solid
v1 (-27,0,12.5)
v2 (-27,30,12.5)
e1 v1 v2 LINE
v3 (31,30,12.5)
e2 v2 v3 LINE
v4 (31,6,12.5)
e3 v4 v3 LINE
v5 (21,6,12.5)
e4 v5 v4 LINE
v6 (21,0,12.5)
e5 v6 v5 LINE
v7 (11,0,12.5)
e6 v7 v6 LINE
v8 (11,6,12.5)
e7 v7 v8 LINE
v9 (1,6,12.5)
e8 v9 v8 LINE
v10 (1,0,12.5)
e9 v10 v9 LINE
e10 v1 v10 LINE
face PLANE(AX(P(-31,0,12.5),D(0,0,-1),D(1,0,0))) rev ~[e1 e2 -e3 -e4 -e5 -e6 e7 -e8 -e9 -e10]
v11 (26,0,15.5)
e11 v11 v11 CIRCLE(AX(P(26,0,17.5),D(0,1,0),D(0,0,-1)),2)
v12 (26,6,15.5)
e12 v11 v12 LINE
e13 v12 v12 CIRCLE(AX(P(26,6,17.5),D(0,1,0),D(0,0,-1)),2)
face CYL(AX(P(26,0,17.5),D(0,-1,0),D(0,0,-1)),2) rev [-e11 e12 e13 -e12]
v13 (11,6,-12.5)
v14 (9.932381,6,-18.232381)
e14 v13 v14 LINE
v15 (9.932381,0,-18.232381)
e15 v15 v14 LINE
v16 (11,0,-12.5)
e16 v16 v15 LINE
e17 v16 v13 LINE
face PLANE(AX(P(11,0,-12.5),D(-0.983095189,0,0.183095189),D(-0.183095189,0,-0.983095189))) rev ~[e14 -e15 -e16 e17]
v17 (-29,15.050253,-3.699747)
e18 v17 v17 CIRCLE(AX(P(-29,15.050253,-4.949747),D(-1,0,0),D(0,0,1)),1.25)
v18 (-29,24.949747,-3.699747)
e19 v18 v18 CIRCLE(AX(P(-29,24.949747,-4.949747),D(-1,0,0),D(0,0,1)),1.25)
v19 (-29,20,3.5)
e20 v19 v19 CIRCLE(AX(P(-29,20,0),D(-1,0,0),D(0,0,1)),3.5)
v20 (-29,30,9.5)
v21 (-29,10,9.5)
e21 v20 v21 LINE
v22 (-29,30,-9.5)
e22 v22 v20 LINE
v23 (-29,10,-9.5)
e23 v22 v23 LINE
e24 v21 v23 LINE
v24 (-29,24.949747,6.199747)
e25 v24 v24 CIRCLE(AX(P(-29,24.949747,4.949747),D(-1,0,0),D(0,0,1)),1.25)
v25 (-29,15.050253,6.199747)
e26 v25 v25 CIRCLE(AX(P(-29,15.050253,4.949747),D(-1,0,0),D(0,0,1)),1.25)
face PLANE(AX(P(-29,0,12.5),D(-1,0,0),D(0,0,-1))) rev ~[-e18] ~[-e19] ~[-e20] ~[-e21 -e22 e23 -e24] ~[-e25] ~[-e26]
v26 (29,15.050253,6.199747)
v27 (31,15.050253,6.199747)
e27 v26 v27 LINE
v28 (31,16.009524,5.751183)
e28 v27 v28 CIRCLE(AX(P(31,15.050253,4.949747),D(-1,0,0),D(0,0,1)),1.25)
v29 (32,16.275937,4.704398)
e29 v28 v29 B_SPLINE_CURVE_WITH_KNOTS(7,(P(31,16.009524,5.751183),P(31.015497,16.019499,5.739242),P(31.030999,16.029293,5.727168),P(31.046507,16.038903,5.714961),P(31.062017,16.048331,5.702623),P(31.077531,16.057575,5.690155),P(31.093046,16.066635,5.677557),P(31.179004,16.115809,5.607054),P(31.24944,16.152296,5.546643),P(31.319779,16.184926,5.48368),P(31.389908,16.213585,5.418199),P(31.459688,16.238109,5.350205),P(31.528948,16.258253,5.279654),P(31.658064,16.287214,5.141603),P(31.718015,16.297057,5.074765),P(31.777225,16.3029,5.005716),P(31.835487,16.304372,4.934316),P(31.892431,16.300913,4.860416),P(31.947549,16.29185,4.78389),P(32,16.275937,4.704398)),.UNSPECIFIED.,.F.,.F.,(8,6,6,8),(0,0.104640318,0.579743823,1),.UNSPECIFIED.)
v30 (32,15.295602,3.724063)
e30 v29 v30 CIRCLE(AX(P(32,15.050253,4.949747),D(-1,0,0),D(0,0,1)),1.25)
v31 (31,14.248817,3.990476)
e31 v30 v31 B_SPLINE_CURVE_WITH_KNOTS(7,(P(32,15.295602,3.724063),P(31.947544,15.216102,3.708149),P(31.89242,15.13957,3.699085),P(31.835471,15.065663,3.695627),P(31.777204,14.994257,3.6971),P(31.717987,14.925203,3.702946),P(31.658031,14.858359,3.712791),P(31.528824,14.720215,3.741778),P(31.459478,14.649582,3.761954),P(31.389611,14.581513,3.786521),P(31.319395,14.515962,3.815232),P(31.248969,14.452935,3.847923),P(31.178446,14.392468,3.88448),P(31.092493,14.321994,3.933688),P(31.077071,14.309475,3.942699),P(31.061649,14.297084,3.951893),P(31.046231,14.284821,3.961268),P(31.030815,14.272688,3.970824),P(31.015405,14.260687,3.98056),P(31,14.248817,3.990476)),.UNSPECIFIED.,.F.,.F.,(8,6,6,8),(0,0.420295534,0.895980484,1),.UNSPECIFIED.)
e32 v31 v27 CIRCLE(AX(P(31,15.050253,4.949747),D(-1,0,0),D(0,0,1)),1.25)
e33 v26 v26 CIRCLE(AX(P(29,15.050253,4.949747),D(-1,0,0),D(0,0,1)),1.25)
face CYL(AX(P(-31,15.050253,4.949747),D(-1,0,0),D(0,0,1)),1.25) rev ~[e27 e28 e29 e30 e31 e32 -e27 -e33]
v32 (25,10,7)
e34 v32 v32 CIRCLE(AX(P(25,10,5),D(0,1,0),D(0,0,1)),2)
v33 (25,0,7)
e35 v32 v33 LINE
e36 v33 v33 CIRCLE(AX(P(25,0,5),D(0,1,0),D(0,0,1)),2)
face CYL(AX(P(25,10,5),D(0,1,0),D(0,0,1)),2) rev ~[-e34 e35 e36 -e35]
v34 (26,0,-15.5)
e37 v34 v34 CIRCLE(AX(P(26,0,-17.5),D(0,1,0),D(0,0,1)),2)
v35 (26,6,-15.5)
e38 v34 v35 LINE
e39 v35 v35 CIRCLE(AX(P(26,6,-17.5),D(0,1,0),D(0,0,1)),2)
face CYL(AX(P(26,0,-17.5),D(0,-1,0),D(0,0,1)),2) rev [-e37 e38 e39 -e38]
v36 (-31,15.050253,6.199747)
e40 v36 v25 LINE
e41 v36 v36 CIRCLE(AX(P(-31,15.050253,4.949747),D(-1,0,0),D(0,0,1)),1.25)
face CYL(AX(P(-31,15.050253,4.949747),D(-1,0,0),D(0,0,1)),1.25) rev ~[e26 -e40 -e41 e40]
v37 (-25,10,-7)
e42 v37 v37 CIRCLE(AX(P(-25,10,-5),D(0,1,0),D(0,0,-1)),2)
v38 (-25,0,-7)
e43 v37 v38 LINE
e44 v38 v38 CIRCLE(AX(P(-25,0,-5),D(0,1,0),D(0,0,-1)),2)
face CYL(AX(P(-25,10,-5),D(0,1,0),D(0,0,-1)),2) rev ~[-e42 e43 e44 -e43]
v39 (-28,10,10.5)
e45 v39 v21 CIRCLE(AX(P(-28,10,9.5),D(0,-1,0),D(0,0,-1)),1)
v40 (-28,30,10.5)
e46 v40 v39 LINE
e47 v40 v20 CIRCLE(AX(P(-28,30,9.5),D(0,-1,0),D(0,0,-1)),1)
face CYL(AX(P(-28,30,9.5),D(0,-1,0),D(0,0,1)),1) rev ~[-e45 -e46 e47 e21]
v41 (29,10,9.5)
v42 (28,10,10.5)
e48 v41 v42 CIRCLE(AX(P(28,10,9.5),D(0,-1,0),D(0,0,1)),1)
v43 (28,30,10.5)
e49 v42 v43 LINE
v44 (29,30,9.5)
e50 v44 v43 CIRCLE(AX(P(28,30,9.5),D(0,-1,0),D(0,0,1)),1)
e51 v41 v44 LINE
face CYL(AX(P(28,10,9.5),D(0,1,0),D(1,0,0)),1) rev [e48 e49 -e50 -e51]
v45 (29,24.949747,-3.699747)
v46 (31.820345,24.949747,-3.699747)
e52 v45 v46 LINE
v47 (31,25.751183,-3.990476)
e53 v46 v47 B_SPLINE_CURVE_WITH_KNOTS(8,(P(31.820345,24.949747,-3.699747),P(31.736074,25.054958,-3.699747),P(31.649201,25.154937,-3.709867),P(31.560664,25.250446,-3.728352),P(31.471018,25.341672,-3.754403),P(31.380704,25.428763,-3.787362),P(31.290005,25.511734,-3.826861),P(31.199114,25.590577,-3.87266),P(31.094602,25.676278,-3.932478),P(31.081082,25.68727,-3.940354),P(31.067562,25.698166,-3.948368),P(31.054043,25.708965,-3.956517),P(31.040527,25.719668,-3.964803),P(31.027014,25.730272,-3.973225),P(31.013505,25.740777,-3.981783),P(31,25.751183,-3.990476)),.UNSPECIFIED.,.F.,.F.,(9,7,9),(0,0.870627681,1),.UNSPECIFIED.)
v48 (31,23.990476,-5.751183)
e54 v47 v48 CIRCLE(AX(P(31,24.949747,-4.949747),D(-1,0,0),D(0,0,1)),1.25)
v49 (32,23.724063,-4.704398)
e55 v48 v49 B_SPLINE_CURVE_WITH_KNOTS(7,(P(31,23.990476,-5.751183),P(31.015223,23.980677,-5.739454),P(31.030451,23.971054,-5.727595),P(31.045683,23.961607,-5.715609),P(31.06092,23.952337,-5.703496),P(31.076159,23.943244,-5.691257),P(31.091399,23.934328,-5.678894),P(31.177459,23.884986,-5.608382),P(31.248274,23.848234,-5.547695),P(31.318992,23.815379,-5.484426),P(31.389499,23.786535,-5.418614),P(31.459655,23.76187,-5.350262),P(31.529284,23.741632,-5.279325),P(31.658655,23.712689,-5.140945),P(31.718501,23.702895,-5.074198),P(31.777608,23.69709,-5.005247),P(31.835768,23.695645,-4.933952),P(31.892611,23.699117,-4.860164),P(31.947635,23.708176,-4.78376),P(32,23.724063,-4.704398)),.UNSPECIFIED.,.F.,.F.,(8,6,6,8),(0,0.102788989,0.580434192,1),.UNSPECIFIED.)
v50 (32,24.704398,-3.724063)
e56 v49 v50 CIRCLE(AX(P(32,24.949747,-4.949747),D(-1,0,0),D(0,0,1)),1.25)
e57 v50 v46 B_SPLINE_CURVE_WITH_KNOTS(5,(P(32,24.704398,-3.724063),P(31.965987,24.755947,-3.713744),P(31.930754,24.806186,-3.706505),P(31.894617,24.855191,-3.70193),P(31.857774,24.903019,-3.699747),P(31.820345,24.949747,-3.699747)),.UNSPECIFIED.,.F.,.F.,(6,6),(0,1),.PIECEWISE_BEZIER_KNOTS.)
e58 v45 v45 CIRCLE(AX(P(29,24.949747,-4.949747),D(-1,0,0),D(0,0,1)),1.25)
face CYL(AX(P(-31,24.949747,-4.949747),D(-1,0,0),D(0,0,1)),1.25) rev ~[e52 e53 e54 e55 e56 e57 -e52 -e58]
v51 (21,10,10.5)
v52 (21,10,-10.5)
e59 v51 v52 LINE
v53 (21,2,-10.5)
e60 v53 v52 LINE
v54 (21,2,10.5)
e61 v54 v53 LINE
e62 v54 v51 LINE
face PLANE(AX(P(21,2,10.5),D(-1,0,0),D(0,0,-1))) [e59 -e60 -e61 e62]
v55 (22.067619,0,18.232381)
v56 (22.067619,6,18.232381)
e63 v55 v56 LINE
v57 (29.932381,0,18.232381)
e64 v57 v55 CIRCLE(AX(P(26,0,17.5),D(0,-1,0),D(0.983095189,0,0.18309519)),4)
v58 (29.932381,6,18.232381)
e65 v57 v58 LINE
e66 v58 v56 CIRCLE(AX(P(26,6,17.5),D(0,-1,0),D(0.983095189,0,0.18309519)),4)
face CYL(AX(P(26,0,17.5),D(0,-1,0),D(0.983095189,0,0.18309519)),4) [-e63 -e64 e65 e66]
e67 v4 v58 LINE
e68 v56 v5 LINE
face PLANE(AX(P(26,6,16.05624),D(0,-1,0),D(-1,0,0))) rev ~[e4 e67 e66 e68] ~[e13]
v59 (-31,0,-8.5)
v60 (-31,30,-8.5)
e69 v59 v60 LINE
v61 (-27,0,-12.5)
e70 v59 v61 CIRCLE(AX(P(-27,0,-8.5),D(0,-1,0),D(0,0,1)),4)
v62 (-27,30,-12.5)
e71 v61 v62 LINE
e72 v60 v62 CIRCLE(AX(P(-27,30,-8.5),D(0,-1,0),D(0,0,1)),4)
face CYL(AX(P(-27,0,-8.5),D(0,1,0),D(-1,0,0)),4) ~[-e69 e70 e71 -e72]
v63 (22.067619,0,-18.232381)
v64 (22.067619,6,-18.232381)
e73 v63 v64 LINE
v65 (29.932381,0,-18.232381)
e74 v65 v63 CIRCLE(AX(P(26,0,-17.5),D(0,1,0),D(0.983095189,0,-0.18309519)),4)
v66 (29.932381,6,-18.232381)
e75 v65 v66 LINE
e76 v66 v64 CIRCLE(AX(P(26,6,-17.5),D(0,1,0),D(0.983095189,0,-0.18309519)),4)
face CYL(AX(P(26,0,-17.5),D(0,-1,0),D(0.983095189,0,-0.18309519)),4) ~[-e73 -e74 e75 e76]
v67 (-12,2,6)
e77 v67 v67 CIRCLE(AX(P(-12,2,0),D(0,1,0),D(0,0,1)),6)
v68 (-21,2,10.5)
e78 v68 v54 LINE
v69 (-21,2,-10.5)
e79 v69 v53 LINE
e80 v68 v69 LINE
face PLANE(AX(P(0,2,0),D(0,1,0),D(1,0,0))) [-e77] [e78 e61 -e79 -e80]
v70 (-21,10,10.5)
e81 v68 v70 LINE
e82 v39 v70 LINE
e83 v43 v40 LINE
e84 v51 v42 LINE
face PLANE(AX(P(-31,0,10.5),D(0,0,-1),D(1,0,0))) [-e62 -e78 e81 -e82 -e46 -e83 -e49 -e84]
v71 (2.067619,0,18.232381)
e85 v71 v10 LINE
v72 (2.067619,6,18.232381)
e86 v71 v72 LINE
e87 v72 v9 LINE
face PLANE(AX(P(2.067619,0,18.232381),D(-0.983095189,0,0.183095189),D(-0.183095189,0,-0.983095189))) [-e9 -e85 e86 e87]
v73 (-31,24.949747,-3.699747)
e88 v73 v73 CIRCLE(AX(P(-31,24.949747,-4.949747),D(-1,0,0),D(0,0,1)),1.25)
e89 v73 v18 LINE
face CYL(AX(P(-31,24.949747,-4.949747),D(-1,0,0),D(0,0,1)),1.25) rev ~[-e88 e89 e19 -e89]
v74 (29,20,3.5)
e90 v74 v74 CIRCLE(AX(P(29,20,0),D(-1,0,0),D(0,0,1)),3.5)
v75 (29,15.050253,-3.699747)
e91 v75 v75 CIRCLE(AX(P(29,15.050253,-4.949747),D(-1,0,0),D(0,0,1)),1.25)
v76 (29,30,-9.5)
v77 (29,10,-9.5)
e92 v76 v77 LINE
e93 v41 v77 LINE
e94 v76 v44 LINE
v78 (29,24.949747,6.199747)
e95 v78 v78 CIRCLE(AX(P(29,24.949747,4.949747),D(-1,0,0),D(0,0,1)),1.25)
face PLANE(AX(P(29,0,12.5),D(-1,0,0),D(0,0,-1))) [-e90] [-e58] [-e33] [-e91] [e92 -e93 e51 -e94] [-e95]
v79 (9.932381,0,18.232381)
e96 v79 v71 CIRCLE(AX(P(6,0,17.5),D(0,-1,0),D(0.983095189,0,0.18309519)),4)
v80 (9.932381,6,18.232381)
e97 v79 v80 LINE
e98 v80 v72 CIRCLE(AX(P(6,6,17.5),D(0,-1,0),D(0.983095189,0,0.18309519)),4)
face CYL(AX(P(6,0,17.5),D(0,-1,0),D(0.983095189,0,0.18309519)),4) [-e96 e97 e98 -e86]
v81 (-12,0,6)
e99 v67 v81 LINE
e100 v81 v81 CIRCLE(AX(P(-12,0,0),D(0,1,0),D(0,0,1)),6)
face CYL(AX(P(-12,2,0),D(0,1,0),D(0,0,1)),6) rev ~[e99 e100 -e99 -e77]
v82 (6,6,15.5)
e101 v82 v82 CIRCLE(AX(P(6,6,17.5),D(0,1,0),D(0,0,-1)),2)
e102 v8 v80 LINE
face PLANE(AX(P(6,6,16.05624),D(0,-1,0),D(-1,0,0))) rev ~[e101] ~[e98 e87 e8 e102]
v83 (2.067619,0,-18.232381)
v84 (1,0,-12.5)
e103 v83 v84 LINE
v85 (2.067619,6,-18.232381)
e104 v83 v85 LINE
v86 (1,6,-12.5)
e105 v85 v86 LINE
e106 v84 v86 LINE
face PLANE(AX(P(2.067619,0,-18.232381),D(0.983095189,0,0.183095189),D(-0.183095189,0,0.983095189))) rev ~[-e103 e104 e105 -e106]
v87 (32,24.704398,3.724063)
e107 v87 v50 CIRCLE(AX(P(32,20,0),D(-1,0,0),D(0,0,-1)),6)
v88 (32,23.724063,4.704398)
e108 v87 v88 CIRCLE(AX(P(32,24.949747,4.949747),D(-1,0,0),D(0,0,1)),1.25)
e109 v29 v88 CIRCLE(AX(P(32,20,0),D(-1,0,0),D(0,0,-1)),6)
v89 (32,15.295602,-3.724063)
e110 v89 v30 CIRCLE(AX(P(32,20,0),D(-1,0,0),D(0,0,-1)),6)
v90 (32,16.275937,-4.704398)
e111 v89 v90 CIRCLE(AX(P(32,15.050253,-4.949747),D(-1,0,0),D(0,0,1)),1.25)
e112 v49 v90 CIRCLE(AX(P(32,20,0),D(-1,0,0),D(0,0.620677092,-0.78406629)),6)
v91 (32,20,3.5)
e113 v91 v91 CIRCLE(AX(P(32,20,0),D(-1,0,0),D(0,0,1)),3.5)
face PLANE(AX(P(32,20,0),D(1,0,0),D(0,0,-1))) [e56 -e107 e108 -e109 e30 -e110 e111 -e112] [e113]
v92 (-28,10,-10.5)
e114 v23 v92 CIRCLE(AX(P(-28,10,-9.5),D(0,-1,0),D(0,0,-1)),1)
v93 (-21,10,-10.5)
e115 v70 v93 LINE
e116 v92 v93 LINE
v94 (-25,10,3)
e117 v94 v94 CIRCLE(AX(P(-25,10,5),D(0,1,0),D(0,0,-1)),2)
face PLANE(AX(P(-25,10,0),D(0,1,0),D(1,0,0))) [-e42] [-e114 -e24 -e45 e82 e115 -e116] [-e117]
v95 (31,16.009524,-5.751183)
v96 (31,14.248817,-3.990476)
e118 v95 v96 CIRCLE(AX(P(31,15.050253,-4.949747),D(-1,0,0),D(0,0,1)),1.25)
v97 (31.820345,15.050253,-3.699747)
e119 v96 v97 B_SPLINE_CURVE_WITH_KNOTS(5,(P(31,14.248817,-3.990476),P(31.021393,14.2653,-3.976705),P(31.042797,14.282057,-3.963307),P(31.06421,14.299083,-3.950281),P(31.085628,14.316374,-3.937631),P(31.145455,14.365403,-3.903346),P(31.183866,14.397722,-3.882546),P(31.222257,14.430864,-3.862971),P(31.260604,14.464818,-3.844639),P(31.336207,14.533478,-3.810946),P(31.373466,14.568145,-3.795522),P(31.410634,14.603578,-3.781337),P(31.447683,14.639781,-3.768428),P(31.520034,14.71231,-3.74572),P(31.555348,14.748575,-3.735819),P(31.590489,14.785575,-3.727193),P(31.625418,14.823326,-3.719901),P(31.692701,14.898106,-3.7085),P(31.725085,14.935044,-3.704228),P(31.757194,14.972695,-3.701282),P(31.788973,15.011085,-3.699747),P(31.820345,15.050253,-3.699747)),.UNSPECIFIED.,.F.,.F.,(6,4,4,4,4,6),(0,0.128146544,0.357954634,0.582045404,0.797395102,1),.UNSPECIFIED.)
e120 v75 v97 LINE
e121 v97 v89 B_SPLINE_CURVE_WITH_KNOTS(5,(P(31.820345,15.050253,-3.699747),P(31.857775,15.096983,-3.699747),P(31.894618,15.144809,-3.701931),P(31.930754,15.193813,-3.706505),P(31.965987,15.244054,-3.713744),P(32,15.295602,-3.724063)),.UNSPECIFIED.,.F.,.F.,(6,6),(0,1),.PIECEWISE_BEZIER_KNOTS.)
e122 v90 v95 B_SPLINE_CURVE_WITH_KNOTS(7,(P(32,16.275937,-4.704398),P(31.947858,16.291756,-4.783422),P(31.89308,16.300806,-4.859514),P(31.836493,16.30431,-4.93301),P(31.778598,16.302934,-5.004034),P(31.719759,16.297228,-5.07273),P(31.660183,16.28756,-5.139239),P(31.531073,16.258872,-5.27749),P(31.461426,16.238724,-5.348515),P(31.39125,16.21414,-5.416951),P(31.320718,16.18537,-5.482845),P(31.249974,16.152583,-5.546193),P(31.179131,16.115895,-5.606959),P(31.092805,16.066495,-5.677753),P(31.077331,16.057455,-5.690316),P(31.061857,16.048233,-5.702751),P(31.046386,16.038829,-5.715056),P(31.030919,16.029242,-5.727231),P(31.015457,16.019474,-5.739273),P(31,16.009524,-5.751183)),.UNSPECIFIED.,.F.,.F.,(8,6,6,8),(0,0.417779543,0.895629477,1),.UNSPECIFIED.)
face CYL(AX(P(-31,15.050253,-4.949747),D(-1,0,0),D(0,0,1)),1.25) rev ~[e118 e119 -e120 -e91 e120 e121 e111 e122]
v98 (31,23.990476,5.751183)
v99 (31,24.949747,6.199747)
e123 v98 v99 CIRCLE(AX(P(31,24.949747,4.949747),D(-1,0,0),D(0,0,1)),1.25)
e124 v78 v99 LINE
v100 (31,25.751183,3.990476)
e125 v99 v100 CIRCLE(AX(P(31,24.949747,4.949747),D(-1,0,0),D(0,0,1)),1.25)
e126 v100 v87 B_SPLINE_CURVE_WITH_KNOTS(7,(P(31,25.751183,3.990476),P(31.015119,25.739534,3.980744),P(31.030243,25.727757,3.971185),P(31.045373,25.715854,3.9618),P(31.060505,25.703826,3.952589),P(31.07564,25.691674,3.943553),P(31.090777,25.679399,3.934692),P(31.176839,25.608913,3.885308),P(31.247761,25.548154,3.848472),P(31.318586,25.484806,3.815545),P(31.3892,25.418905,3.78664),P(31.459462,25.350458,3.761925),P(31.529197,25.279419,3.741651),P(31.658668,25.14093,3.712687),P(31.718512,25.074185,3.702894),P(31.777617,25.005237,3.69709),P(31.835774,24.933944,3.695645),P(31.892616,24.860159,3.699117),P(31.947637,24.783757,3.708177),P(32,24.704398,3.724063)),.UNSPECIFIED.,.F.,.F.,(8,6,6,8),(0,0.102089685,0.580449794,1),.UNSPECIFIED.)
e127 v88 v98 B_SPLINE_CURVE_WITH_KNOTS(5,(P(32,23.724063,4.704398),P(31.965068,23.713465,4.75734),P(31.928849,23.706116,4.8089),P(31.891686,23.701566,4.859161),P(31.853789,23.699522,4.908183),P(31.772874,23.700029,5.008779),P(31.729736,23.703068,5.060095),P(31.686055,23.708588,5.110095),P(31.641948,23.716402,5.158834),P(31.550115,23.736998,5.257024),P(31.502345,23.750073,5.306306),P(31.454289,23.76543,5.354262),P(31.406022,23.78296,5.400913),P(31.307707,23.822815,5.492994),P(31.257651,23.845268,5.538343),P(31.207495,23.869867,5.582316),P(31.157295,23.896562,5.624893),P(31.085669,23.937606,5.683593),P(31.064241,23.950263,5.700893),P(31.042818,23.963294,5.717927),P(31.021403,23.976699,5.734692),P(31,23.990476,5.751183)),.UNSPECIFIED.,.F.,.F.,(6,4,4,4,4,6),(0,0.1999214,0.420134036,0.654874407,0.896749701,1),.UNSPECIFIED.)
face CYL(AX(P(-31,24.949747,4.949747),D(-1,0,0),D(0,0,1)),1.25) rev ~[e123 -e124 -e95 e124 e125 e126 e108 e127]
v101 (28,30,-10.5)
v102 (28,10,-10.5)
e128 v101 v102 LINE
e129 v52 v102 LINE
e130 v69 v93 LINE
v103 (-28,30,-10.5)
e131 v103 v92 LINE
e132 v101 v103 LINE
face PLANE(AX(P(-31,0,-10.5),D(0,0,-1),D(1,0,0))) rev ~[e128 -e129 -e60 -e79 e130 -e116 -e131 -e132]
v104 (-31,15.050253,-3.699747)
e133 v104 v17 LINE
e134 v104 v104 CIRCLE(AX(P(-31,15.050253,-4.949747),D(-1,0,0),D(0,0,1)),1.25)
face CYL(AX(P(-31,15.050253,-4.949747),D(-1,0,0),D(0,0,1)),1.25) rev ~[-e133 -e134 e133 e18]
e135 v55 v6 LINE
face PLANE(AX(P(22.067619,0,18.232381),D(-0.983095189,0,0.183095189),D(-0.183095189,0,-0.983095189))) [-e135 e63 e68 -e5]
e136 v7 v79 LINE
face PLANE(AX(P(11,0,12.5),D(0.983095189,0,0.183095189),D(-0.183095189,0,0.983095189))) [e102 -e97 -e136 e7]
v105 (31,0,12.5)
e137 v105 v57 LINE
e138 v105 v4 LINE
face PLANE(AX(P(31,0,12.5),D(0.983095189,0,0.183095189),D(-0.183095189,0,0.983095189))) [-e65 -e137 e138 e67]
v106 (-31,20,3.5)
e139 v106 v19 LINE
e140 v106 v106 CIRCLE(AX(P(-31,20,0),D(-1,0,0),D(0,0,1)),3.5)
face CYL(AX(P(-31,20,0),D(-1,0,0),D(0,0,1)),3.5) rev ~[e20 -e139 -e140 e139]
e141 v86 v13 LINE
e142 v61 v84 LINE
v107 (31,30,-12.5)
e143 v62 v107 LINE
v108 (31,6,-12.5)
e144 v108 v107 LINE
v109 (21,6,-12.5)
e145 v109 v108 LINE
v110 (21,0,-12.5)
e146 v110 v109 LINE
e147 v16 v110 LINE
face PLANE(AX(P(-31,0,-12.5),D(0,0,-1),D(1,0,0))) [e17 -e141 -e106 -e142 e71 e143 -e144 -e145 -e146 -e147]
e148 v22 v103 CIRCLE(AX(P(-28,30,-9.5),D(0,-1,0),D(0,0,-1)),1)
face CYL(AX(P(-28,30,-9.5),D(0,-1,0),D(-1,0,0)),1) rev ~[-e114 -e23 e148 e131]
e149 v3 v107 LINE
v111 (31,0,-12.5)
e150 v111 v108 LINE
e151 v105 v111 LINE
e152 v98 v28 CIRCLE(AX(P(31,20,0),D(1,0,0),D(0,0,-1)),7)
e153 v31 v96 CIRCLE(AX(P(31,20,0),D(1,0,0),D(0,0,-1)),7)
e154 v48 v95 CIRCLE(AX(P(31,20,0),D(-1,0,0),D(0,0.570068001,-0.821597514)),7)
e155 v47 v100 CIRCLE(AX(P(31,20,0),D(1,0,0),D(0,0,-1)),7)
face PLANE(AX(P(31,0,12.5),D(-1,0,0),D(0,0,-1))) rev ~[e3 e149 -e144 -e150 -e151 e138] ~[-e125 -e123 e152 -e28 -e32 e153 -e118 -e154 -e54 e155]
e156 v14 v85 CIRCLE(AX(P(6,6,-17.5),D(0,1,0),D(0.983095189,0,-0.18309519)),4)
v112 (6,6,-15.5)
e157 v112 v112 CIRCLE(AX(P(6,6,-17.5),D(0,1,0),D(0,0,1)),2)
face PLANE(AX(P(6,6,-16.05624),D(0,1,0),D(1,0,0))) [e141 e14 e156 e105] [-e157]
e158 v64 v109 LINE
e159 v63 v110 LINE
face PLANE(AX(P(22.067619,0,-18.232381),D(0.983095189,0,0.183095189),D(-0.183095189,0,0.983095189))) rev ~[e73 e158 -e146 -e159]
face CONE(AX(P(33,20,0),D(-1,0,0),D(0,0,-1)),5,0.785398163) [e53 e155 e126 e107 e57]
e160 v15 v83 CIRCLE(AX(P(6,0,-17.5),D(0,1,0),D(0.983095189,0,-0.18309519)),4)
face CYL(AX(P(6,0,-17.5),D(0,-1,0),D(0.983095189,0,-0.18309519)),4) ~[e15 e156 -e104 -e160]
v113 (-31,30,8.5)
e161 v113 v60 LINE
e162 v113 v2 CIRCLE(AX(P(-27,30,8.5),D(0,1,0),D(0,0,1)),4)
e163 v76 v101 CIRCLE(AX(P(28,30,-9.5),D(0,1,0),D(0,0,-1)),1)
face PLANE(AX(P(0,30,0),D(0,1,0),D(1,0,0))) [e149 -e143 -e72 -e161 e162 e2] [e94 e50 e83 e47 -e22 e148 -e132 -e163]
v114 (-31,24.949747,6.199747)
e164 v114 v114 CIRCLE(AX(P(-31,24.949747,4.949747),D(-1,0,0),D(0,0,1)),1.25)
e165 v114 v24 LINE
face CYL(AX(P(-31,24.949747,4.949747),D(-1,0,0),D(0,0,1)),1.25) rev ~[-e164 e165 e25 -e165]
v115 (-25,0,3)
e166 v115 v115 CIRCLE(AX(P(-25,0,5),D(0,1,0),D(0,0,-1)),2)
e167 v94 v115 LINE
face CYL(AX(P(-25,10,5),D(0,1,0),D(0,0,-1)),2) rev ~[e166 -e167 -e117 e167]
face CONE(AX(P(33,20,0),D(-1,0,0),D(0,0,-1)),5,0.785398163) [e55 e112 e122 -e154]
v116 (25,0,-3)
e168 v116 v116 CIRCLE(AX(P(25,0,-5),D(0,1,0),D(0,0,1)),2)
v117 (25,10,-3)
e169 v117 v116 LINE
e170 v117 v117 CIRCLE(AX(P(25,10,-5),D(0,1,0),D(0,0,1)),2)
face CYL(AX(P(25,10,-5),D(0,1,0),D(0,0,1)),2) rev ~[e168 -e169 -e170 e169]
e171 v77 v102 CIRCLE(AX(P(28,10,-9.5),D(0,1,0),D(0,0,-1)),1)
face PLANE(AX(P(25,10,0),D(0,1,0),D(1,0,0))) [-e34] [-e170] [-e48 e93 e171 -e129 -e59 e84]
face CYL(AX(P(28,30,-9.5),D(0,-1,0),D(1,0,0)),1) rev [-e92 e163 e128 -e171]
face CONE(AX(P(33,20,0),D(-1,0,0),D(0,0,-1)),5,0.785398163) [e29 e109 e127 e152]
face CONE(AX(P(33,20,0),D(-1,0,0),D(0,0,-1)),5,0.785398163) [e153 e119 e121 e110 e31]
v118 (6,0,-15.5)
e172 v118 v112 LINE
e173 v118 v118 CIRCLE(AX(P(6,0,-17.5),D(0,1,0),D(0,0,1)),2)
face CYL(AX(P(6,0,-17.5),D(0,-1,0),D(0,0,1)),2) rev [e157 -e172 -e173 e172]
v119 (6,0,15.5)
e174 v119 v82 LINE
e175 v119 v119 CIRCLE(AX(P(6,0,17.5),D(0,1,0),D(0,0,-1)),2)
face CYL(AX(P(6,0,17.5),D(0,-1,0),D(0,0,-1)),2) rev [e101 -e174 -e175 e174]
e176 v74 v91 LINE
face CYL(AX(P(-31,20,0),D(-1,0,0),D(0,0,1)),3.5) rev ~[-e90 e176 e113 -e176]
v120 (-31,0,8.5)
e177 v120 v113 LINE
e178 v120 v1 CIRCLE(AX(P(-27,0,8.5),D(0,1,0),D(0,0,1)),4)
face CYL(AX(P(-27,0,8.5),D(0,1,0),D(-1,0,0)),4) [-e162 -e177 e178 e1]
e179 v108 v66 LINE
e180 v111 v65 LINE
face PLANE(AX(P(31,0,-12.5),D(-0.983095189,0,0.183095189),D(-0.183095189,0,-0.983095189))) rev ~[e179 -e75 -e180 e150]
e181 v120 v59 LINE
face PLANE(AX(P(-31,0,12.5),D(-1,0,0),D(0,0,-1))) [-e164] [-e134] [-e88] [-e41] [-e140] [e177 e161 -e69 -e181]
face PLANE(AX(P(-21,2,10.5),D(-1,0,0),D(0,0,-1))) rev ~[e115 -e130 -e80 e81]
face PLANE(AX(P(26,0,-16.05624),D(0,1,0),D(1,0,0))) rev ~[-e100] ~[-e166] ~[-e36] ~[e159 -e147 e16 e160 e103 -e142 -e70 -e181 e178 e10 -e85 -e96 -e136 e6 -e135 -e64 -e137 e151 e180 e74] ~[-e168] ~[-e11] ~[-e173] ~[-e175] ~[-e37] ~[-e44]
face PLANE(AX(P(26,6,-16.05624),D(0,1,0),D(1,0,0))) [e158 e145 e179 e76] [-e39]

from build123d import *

# Parameters (mm, degrees)
SKETCH_1_W          = 62
SKETCH_1_H          = 25
EXTRUDE_1_DEPTH     = 30
SHELL_1_T           = -2
SKETCH_2_W          = 8
SKETCH_2_H          = 21
EXTRUDE_2_DEPTH     = 8
SKETCH_3_R          = 2
CUT_EXTRUDE_1_DEPTH = 39.951893407
SKETCH_4_R          = 6
CUT_EXTRUDE_2_DEPTH = 44.603325561
SKETCH_5_R          = 2
EXTRUDE_3_DEPTH     = 6
SKETCH_6_R          = 7
EXTRUDE_4_DEPTH     = 1
SKETCH_10_R         = 3.5
SKETCH_10_R_2       = 1.25
CUT_EXTRUDE_3_DEPTH = 74.015409333
FILLET_1_R          = 4
FILLET_2_R          = 1


with BuildPart() as part:
    # 草图1 → 凸台-拉伸1 (new body)
    with BuildSketch(Plane(origin=(0, 0, 0), x_dir=(1, 0, 0), z_dir=(0, 1, 0))):
        Rectangle(SKETCH_1_W, SKETCH_1_H)
    extrude(amount=EXTRUDE_1_DEPTH)

    # 抽壳1
    shell_1_openings = [part.faces().sort_by_distance(p)[0] for p in [
        (0, 30, 0),
    ]]
    offset(amount=SHELL_1_T, openings=shell_1_openings, kind=Kind.INTERSECTION)

    # 草图2 → 凸台-拉伸2 (add)
    with BuildSketch(Plane(origin=(0, 2, 0), x_dir=(1, 0, 0), z_dir=(0, 1, 0))):
        with Locations((-25, 0)):
            Rectangle(SKETCH_2_W, SKETCH_2_H)
        with Locations((25, 0)):
            Rectangle(SKETCH_2_W, SKETCH_2_H)
    extrude(amount=EXTRUDE_2_DEPTH)

    # 草图3 → 切除-拉伸1 (cut, through all)
    with BuildSketch(Plane(origin=(0, 10, 0), x_dir=(1, 0, 0), z_dir=(0, 1, 0))):
        with Locations(Location((25, -5, 0), (0, 0, 270))):
            Circle(SKETCH_3_R)
        with Locations(Location((25, 5, 0), (0, 0, 270))):
            Circle(SKETCH_3_R)
        with Locations(Location((-25, 5, 0), (0, 0, 90))):
            Circle(SKETCH_3_R)
        with Locations(Location((-25, -5, 0), (0, 0, 90))):
            Circle(SKETCH_3_R)
    extrude(amount=-CUT_EXTRUDE_1_DEPTH, mode=Mode.SUBTRACT)

    # 草图4 → 切除-拉伸2 (cut, through all)
    with BuildSketch(Plane(origin=(0, 2, 0), x_dir=(1, 0, 0), z_dir=(0, 1, 0))):
        with Locations(Location((-12, 0, 0), (0, 0, 270))):
            Circle(SKETCH_4_R)
    extrude(amount=-CUT_EXTRUDE_2_DEPTH, mode=Mode.SUBTRACT)

    # 草图5 → 凸台-拉伸3 (add)
    # profile 1 of 4: a face of its own
    with BuildSketch(Plane(origin=(0, 0, 0), x_dir=(1, 0, 0), z_dir=(0, 1, 0))):
        with BuildLine():
            Line((22.067619242, 18.232380758), (21, 12.5))
            Line((21, 12.5), (31, 12.5))
            Line((31, 12.5), (29.932380758, 18.232380758))
            ThreePointArc((29.932380758, 18.232380758), (26, 21.5), (22.067619242, 18.232380758))
        make_face()
        with Locations(Location((26, 17.5, 0), (0, 0, 270))):
            Circle(SKETCH_5_R, mode=Mode.SUBTRACT)
    # profile 2 of 4: a face of its own
    with BuildSketch(Plane(origin=(0, 0, 0), x_dir=(1, 0, 0), z_dir=(0, 1, 0))):
        with BuildLine():
            Line((2.067619242, 18.232380758), (1, 12.5))
            Line((1, 12.5), (11, 12.5))
            Line((11, 12.5), (9.932380758, 18.232380758))
            ThreePointArc((9.932380758, 18.232380758), (6, 21.5), (2.067619242, 18.232380758))
        make_face()
        with Locations(Location((6, 17.5, 0), (0, 0, 270))):
            Circle(SKETCH_5_R, mode=Mode.SUBTRACT)
    # profile 3 of 4: a face of its own
    with BuildSketch(Plane(origin=(0, 0, 0), x_dir=(1, 0, 0), z_dir=(0, 1, 0))):
        with BuildLine():
            Line((11, -12.5), (9.932380758, -18.232380758))
            ThreePointArc((9.932380758, -18.232380758), (6, -21.5), (2.067619242, -18.232380758))
            Line((2.067619242, -18.232380758), (1, -12.5))
            Line((1, -12.5), (11, -12.5))
        make_face()
        with Locations(Location((6, -17.5, 0), (0, 0, 90))):
            Circle(SKETCH_5_R, mode=Mode.SUBTRACT)
    # profile 4 of 4: a face of its own
    with BuildSketch(Plane(origin=(0, 0, 0), x_dir=(1, 0, 0), z_dir=(0, 1, 0))):
        with BuildLine():
            Line((31, -12.5), (29.932380758, -18.232380758))
            ThreePointArc((29.932380758, -18.232380758), (26, -21.5), (22.067619242, -18.232380758))
            Line((22.067619242, -18.232380758), (21, -12.5))
            Line((21, -12.5), (31, -12.5))
        make_face()
        with Locations(Location((26, -17.5, 0), (0, 0, 90))):
            Circle(SKETCH_5_R, mode=Mode.SUBTRACT)
    extrude(amount=EXTRUDE_3_DEPTH)

    # 草图6 → 凸台-拉伸4 (add)
    with BuildSketch(Plane(origin=(31, 0, 0), x_dir=(0, 0, -1), z_dir=(1, 0, 0))):
        with Locations((0, 20)):
            Circle(SKETCH_6_R)
    extrude(amount=EXTRUDE_4_DEPTH)

    # 草图7 → 切除-旋转1 (revolve, cut)
    with BuildSketch(Plane.XY, mode=Mode.PRIVATE) as cut_revolve_1_sk:
        Polygon((31, 27), (33, 27), (33, 25), align=None)
    revolve(cut_revolve_1_sk.sketch.rotate(Axis((32, 20, 0), (-1, 0, 0)), 90), axis=Axis((32, 20, 0), (-1, 0, 0)), mode=Mode.SUBTRACT)

    # 草图10 → 切除-拉伸3 (cut, through all)
    with BuildSketch(Plane.ZY.offset(31)):
        with Locations((0, 20)):
            Circle(SKETCH_10_R)
        with Locations((-4.949747468, 24.949747468)):
            Circle(SKETCH_10_R_2)
        with Locations((4.949747468, 24.949747468)):
            Circle(SKETCH_10_R_2)
        with Locations((4.949747468, 15.050252532)):
            Circle(SKETCH_10_R_2)
        with Locations((-4.949747468, 15.050252532)):
            Circle(SKETCH_10_R_2)
    extrude(amount=-CUT_EXTRUDE_3_DEPTH, mode=Mode.SUBTRACT)

    # 圆角1
    fillet_1_edges = [part.edges().sort_by_distance(p)[0] for p in [
        (-31, 15, 12.5),
        (-31, 15, -12.5),
    ]]
    fillet(fillet_1_edges, radius=FILLET_1_R)

    # 圆角2
    fillet_2_edges = [part.edges().sort_by_distance(p)[0] for p in [
        (29, 20, 10.5),
        (29, 20, -10.5),
        (-29, 20, -10.5),
        (-29, 20, 10.5),
    ]]
    fillet(fillet_2_edges, radius=FILLET_2_R)


solid = part.part
